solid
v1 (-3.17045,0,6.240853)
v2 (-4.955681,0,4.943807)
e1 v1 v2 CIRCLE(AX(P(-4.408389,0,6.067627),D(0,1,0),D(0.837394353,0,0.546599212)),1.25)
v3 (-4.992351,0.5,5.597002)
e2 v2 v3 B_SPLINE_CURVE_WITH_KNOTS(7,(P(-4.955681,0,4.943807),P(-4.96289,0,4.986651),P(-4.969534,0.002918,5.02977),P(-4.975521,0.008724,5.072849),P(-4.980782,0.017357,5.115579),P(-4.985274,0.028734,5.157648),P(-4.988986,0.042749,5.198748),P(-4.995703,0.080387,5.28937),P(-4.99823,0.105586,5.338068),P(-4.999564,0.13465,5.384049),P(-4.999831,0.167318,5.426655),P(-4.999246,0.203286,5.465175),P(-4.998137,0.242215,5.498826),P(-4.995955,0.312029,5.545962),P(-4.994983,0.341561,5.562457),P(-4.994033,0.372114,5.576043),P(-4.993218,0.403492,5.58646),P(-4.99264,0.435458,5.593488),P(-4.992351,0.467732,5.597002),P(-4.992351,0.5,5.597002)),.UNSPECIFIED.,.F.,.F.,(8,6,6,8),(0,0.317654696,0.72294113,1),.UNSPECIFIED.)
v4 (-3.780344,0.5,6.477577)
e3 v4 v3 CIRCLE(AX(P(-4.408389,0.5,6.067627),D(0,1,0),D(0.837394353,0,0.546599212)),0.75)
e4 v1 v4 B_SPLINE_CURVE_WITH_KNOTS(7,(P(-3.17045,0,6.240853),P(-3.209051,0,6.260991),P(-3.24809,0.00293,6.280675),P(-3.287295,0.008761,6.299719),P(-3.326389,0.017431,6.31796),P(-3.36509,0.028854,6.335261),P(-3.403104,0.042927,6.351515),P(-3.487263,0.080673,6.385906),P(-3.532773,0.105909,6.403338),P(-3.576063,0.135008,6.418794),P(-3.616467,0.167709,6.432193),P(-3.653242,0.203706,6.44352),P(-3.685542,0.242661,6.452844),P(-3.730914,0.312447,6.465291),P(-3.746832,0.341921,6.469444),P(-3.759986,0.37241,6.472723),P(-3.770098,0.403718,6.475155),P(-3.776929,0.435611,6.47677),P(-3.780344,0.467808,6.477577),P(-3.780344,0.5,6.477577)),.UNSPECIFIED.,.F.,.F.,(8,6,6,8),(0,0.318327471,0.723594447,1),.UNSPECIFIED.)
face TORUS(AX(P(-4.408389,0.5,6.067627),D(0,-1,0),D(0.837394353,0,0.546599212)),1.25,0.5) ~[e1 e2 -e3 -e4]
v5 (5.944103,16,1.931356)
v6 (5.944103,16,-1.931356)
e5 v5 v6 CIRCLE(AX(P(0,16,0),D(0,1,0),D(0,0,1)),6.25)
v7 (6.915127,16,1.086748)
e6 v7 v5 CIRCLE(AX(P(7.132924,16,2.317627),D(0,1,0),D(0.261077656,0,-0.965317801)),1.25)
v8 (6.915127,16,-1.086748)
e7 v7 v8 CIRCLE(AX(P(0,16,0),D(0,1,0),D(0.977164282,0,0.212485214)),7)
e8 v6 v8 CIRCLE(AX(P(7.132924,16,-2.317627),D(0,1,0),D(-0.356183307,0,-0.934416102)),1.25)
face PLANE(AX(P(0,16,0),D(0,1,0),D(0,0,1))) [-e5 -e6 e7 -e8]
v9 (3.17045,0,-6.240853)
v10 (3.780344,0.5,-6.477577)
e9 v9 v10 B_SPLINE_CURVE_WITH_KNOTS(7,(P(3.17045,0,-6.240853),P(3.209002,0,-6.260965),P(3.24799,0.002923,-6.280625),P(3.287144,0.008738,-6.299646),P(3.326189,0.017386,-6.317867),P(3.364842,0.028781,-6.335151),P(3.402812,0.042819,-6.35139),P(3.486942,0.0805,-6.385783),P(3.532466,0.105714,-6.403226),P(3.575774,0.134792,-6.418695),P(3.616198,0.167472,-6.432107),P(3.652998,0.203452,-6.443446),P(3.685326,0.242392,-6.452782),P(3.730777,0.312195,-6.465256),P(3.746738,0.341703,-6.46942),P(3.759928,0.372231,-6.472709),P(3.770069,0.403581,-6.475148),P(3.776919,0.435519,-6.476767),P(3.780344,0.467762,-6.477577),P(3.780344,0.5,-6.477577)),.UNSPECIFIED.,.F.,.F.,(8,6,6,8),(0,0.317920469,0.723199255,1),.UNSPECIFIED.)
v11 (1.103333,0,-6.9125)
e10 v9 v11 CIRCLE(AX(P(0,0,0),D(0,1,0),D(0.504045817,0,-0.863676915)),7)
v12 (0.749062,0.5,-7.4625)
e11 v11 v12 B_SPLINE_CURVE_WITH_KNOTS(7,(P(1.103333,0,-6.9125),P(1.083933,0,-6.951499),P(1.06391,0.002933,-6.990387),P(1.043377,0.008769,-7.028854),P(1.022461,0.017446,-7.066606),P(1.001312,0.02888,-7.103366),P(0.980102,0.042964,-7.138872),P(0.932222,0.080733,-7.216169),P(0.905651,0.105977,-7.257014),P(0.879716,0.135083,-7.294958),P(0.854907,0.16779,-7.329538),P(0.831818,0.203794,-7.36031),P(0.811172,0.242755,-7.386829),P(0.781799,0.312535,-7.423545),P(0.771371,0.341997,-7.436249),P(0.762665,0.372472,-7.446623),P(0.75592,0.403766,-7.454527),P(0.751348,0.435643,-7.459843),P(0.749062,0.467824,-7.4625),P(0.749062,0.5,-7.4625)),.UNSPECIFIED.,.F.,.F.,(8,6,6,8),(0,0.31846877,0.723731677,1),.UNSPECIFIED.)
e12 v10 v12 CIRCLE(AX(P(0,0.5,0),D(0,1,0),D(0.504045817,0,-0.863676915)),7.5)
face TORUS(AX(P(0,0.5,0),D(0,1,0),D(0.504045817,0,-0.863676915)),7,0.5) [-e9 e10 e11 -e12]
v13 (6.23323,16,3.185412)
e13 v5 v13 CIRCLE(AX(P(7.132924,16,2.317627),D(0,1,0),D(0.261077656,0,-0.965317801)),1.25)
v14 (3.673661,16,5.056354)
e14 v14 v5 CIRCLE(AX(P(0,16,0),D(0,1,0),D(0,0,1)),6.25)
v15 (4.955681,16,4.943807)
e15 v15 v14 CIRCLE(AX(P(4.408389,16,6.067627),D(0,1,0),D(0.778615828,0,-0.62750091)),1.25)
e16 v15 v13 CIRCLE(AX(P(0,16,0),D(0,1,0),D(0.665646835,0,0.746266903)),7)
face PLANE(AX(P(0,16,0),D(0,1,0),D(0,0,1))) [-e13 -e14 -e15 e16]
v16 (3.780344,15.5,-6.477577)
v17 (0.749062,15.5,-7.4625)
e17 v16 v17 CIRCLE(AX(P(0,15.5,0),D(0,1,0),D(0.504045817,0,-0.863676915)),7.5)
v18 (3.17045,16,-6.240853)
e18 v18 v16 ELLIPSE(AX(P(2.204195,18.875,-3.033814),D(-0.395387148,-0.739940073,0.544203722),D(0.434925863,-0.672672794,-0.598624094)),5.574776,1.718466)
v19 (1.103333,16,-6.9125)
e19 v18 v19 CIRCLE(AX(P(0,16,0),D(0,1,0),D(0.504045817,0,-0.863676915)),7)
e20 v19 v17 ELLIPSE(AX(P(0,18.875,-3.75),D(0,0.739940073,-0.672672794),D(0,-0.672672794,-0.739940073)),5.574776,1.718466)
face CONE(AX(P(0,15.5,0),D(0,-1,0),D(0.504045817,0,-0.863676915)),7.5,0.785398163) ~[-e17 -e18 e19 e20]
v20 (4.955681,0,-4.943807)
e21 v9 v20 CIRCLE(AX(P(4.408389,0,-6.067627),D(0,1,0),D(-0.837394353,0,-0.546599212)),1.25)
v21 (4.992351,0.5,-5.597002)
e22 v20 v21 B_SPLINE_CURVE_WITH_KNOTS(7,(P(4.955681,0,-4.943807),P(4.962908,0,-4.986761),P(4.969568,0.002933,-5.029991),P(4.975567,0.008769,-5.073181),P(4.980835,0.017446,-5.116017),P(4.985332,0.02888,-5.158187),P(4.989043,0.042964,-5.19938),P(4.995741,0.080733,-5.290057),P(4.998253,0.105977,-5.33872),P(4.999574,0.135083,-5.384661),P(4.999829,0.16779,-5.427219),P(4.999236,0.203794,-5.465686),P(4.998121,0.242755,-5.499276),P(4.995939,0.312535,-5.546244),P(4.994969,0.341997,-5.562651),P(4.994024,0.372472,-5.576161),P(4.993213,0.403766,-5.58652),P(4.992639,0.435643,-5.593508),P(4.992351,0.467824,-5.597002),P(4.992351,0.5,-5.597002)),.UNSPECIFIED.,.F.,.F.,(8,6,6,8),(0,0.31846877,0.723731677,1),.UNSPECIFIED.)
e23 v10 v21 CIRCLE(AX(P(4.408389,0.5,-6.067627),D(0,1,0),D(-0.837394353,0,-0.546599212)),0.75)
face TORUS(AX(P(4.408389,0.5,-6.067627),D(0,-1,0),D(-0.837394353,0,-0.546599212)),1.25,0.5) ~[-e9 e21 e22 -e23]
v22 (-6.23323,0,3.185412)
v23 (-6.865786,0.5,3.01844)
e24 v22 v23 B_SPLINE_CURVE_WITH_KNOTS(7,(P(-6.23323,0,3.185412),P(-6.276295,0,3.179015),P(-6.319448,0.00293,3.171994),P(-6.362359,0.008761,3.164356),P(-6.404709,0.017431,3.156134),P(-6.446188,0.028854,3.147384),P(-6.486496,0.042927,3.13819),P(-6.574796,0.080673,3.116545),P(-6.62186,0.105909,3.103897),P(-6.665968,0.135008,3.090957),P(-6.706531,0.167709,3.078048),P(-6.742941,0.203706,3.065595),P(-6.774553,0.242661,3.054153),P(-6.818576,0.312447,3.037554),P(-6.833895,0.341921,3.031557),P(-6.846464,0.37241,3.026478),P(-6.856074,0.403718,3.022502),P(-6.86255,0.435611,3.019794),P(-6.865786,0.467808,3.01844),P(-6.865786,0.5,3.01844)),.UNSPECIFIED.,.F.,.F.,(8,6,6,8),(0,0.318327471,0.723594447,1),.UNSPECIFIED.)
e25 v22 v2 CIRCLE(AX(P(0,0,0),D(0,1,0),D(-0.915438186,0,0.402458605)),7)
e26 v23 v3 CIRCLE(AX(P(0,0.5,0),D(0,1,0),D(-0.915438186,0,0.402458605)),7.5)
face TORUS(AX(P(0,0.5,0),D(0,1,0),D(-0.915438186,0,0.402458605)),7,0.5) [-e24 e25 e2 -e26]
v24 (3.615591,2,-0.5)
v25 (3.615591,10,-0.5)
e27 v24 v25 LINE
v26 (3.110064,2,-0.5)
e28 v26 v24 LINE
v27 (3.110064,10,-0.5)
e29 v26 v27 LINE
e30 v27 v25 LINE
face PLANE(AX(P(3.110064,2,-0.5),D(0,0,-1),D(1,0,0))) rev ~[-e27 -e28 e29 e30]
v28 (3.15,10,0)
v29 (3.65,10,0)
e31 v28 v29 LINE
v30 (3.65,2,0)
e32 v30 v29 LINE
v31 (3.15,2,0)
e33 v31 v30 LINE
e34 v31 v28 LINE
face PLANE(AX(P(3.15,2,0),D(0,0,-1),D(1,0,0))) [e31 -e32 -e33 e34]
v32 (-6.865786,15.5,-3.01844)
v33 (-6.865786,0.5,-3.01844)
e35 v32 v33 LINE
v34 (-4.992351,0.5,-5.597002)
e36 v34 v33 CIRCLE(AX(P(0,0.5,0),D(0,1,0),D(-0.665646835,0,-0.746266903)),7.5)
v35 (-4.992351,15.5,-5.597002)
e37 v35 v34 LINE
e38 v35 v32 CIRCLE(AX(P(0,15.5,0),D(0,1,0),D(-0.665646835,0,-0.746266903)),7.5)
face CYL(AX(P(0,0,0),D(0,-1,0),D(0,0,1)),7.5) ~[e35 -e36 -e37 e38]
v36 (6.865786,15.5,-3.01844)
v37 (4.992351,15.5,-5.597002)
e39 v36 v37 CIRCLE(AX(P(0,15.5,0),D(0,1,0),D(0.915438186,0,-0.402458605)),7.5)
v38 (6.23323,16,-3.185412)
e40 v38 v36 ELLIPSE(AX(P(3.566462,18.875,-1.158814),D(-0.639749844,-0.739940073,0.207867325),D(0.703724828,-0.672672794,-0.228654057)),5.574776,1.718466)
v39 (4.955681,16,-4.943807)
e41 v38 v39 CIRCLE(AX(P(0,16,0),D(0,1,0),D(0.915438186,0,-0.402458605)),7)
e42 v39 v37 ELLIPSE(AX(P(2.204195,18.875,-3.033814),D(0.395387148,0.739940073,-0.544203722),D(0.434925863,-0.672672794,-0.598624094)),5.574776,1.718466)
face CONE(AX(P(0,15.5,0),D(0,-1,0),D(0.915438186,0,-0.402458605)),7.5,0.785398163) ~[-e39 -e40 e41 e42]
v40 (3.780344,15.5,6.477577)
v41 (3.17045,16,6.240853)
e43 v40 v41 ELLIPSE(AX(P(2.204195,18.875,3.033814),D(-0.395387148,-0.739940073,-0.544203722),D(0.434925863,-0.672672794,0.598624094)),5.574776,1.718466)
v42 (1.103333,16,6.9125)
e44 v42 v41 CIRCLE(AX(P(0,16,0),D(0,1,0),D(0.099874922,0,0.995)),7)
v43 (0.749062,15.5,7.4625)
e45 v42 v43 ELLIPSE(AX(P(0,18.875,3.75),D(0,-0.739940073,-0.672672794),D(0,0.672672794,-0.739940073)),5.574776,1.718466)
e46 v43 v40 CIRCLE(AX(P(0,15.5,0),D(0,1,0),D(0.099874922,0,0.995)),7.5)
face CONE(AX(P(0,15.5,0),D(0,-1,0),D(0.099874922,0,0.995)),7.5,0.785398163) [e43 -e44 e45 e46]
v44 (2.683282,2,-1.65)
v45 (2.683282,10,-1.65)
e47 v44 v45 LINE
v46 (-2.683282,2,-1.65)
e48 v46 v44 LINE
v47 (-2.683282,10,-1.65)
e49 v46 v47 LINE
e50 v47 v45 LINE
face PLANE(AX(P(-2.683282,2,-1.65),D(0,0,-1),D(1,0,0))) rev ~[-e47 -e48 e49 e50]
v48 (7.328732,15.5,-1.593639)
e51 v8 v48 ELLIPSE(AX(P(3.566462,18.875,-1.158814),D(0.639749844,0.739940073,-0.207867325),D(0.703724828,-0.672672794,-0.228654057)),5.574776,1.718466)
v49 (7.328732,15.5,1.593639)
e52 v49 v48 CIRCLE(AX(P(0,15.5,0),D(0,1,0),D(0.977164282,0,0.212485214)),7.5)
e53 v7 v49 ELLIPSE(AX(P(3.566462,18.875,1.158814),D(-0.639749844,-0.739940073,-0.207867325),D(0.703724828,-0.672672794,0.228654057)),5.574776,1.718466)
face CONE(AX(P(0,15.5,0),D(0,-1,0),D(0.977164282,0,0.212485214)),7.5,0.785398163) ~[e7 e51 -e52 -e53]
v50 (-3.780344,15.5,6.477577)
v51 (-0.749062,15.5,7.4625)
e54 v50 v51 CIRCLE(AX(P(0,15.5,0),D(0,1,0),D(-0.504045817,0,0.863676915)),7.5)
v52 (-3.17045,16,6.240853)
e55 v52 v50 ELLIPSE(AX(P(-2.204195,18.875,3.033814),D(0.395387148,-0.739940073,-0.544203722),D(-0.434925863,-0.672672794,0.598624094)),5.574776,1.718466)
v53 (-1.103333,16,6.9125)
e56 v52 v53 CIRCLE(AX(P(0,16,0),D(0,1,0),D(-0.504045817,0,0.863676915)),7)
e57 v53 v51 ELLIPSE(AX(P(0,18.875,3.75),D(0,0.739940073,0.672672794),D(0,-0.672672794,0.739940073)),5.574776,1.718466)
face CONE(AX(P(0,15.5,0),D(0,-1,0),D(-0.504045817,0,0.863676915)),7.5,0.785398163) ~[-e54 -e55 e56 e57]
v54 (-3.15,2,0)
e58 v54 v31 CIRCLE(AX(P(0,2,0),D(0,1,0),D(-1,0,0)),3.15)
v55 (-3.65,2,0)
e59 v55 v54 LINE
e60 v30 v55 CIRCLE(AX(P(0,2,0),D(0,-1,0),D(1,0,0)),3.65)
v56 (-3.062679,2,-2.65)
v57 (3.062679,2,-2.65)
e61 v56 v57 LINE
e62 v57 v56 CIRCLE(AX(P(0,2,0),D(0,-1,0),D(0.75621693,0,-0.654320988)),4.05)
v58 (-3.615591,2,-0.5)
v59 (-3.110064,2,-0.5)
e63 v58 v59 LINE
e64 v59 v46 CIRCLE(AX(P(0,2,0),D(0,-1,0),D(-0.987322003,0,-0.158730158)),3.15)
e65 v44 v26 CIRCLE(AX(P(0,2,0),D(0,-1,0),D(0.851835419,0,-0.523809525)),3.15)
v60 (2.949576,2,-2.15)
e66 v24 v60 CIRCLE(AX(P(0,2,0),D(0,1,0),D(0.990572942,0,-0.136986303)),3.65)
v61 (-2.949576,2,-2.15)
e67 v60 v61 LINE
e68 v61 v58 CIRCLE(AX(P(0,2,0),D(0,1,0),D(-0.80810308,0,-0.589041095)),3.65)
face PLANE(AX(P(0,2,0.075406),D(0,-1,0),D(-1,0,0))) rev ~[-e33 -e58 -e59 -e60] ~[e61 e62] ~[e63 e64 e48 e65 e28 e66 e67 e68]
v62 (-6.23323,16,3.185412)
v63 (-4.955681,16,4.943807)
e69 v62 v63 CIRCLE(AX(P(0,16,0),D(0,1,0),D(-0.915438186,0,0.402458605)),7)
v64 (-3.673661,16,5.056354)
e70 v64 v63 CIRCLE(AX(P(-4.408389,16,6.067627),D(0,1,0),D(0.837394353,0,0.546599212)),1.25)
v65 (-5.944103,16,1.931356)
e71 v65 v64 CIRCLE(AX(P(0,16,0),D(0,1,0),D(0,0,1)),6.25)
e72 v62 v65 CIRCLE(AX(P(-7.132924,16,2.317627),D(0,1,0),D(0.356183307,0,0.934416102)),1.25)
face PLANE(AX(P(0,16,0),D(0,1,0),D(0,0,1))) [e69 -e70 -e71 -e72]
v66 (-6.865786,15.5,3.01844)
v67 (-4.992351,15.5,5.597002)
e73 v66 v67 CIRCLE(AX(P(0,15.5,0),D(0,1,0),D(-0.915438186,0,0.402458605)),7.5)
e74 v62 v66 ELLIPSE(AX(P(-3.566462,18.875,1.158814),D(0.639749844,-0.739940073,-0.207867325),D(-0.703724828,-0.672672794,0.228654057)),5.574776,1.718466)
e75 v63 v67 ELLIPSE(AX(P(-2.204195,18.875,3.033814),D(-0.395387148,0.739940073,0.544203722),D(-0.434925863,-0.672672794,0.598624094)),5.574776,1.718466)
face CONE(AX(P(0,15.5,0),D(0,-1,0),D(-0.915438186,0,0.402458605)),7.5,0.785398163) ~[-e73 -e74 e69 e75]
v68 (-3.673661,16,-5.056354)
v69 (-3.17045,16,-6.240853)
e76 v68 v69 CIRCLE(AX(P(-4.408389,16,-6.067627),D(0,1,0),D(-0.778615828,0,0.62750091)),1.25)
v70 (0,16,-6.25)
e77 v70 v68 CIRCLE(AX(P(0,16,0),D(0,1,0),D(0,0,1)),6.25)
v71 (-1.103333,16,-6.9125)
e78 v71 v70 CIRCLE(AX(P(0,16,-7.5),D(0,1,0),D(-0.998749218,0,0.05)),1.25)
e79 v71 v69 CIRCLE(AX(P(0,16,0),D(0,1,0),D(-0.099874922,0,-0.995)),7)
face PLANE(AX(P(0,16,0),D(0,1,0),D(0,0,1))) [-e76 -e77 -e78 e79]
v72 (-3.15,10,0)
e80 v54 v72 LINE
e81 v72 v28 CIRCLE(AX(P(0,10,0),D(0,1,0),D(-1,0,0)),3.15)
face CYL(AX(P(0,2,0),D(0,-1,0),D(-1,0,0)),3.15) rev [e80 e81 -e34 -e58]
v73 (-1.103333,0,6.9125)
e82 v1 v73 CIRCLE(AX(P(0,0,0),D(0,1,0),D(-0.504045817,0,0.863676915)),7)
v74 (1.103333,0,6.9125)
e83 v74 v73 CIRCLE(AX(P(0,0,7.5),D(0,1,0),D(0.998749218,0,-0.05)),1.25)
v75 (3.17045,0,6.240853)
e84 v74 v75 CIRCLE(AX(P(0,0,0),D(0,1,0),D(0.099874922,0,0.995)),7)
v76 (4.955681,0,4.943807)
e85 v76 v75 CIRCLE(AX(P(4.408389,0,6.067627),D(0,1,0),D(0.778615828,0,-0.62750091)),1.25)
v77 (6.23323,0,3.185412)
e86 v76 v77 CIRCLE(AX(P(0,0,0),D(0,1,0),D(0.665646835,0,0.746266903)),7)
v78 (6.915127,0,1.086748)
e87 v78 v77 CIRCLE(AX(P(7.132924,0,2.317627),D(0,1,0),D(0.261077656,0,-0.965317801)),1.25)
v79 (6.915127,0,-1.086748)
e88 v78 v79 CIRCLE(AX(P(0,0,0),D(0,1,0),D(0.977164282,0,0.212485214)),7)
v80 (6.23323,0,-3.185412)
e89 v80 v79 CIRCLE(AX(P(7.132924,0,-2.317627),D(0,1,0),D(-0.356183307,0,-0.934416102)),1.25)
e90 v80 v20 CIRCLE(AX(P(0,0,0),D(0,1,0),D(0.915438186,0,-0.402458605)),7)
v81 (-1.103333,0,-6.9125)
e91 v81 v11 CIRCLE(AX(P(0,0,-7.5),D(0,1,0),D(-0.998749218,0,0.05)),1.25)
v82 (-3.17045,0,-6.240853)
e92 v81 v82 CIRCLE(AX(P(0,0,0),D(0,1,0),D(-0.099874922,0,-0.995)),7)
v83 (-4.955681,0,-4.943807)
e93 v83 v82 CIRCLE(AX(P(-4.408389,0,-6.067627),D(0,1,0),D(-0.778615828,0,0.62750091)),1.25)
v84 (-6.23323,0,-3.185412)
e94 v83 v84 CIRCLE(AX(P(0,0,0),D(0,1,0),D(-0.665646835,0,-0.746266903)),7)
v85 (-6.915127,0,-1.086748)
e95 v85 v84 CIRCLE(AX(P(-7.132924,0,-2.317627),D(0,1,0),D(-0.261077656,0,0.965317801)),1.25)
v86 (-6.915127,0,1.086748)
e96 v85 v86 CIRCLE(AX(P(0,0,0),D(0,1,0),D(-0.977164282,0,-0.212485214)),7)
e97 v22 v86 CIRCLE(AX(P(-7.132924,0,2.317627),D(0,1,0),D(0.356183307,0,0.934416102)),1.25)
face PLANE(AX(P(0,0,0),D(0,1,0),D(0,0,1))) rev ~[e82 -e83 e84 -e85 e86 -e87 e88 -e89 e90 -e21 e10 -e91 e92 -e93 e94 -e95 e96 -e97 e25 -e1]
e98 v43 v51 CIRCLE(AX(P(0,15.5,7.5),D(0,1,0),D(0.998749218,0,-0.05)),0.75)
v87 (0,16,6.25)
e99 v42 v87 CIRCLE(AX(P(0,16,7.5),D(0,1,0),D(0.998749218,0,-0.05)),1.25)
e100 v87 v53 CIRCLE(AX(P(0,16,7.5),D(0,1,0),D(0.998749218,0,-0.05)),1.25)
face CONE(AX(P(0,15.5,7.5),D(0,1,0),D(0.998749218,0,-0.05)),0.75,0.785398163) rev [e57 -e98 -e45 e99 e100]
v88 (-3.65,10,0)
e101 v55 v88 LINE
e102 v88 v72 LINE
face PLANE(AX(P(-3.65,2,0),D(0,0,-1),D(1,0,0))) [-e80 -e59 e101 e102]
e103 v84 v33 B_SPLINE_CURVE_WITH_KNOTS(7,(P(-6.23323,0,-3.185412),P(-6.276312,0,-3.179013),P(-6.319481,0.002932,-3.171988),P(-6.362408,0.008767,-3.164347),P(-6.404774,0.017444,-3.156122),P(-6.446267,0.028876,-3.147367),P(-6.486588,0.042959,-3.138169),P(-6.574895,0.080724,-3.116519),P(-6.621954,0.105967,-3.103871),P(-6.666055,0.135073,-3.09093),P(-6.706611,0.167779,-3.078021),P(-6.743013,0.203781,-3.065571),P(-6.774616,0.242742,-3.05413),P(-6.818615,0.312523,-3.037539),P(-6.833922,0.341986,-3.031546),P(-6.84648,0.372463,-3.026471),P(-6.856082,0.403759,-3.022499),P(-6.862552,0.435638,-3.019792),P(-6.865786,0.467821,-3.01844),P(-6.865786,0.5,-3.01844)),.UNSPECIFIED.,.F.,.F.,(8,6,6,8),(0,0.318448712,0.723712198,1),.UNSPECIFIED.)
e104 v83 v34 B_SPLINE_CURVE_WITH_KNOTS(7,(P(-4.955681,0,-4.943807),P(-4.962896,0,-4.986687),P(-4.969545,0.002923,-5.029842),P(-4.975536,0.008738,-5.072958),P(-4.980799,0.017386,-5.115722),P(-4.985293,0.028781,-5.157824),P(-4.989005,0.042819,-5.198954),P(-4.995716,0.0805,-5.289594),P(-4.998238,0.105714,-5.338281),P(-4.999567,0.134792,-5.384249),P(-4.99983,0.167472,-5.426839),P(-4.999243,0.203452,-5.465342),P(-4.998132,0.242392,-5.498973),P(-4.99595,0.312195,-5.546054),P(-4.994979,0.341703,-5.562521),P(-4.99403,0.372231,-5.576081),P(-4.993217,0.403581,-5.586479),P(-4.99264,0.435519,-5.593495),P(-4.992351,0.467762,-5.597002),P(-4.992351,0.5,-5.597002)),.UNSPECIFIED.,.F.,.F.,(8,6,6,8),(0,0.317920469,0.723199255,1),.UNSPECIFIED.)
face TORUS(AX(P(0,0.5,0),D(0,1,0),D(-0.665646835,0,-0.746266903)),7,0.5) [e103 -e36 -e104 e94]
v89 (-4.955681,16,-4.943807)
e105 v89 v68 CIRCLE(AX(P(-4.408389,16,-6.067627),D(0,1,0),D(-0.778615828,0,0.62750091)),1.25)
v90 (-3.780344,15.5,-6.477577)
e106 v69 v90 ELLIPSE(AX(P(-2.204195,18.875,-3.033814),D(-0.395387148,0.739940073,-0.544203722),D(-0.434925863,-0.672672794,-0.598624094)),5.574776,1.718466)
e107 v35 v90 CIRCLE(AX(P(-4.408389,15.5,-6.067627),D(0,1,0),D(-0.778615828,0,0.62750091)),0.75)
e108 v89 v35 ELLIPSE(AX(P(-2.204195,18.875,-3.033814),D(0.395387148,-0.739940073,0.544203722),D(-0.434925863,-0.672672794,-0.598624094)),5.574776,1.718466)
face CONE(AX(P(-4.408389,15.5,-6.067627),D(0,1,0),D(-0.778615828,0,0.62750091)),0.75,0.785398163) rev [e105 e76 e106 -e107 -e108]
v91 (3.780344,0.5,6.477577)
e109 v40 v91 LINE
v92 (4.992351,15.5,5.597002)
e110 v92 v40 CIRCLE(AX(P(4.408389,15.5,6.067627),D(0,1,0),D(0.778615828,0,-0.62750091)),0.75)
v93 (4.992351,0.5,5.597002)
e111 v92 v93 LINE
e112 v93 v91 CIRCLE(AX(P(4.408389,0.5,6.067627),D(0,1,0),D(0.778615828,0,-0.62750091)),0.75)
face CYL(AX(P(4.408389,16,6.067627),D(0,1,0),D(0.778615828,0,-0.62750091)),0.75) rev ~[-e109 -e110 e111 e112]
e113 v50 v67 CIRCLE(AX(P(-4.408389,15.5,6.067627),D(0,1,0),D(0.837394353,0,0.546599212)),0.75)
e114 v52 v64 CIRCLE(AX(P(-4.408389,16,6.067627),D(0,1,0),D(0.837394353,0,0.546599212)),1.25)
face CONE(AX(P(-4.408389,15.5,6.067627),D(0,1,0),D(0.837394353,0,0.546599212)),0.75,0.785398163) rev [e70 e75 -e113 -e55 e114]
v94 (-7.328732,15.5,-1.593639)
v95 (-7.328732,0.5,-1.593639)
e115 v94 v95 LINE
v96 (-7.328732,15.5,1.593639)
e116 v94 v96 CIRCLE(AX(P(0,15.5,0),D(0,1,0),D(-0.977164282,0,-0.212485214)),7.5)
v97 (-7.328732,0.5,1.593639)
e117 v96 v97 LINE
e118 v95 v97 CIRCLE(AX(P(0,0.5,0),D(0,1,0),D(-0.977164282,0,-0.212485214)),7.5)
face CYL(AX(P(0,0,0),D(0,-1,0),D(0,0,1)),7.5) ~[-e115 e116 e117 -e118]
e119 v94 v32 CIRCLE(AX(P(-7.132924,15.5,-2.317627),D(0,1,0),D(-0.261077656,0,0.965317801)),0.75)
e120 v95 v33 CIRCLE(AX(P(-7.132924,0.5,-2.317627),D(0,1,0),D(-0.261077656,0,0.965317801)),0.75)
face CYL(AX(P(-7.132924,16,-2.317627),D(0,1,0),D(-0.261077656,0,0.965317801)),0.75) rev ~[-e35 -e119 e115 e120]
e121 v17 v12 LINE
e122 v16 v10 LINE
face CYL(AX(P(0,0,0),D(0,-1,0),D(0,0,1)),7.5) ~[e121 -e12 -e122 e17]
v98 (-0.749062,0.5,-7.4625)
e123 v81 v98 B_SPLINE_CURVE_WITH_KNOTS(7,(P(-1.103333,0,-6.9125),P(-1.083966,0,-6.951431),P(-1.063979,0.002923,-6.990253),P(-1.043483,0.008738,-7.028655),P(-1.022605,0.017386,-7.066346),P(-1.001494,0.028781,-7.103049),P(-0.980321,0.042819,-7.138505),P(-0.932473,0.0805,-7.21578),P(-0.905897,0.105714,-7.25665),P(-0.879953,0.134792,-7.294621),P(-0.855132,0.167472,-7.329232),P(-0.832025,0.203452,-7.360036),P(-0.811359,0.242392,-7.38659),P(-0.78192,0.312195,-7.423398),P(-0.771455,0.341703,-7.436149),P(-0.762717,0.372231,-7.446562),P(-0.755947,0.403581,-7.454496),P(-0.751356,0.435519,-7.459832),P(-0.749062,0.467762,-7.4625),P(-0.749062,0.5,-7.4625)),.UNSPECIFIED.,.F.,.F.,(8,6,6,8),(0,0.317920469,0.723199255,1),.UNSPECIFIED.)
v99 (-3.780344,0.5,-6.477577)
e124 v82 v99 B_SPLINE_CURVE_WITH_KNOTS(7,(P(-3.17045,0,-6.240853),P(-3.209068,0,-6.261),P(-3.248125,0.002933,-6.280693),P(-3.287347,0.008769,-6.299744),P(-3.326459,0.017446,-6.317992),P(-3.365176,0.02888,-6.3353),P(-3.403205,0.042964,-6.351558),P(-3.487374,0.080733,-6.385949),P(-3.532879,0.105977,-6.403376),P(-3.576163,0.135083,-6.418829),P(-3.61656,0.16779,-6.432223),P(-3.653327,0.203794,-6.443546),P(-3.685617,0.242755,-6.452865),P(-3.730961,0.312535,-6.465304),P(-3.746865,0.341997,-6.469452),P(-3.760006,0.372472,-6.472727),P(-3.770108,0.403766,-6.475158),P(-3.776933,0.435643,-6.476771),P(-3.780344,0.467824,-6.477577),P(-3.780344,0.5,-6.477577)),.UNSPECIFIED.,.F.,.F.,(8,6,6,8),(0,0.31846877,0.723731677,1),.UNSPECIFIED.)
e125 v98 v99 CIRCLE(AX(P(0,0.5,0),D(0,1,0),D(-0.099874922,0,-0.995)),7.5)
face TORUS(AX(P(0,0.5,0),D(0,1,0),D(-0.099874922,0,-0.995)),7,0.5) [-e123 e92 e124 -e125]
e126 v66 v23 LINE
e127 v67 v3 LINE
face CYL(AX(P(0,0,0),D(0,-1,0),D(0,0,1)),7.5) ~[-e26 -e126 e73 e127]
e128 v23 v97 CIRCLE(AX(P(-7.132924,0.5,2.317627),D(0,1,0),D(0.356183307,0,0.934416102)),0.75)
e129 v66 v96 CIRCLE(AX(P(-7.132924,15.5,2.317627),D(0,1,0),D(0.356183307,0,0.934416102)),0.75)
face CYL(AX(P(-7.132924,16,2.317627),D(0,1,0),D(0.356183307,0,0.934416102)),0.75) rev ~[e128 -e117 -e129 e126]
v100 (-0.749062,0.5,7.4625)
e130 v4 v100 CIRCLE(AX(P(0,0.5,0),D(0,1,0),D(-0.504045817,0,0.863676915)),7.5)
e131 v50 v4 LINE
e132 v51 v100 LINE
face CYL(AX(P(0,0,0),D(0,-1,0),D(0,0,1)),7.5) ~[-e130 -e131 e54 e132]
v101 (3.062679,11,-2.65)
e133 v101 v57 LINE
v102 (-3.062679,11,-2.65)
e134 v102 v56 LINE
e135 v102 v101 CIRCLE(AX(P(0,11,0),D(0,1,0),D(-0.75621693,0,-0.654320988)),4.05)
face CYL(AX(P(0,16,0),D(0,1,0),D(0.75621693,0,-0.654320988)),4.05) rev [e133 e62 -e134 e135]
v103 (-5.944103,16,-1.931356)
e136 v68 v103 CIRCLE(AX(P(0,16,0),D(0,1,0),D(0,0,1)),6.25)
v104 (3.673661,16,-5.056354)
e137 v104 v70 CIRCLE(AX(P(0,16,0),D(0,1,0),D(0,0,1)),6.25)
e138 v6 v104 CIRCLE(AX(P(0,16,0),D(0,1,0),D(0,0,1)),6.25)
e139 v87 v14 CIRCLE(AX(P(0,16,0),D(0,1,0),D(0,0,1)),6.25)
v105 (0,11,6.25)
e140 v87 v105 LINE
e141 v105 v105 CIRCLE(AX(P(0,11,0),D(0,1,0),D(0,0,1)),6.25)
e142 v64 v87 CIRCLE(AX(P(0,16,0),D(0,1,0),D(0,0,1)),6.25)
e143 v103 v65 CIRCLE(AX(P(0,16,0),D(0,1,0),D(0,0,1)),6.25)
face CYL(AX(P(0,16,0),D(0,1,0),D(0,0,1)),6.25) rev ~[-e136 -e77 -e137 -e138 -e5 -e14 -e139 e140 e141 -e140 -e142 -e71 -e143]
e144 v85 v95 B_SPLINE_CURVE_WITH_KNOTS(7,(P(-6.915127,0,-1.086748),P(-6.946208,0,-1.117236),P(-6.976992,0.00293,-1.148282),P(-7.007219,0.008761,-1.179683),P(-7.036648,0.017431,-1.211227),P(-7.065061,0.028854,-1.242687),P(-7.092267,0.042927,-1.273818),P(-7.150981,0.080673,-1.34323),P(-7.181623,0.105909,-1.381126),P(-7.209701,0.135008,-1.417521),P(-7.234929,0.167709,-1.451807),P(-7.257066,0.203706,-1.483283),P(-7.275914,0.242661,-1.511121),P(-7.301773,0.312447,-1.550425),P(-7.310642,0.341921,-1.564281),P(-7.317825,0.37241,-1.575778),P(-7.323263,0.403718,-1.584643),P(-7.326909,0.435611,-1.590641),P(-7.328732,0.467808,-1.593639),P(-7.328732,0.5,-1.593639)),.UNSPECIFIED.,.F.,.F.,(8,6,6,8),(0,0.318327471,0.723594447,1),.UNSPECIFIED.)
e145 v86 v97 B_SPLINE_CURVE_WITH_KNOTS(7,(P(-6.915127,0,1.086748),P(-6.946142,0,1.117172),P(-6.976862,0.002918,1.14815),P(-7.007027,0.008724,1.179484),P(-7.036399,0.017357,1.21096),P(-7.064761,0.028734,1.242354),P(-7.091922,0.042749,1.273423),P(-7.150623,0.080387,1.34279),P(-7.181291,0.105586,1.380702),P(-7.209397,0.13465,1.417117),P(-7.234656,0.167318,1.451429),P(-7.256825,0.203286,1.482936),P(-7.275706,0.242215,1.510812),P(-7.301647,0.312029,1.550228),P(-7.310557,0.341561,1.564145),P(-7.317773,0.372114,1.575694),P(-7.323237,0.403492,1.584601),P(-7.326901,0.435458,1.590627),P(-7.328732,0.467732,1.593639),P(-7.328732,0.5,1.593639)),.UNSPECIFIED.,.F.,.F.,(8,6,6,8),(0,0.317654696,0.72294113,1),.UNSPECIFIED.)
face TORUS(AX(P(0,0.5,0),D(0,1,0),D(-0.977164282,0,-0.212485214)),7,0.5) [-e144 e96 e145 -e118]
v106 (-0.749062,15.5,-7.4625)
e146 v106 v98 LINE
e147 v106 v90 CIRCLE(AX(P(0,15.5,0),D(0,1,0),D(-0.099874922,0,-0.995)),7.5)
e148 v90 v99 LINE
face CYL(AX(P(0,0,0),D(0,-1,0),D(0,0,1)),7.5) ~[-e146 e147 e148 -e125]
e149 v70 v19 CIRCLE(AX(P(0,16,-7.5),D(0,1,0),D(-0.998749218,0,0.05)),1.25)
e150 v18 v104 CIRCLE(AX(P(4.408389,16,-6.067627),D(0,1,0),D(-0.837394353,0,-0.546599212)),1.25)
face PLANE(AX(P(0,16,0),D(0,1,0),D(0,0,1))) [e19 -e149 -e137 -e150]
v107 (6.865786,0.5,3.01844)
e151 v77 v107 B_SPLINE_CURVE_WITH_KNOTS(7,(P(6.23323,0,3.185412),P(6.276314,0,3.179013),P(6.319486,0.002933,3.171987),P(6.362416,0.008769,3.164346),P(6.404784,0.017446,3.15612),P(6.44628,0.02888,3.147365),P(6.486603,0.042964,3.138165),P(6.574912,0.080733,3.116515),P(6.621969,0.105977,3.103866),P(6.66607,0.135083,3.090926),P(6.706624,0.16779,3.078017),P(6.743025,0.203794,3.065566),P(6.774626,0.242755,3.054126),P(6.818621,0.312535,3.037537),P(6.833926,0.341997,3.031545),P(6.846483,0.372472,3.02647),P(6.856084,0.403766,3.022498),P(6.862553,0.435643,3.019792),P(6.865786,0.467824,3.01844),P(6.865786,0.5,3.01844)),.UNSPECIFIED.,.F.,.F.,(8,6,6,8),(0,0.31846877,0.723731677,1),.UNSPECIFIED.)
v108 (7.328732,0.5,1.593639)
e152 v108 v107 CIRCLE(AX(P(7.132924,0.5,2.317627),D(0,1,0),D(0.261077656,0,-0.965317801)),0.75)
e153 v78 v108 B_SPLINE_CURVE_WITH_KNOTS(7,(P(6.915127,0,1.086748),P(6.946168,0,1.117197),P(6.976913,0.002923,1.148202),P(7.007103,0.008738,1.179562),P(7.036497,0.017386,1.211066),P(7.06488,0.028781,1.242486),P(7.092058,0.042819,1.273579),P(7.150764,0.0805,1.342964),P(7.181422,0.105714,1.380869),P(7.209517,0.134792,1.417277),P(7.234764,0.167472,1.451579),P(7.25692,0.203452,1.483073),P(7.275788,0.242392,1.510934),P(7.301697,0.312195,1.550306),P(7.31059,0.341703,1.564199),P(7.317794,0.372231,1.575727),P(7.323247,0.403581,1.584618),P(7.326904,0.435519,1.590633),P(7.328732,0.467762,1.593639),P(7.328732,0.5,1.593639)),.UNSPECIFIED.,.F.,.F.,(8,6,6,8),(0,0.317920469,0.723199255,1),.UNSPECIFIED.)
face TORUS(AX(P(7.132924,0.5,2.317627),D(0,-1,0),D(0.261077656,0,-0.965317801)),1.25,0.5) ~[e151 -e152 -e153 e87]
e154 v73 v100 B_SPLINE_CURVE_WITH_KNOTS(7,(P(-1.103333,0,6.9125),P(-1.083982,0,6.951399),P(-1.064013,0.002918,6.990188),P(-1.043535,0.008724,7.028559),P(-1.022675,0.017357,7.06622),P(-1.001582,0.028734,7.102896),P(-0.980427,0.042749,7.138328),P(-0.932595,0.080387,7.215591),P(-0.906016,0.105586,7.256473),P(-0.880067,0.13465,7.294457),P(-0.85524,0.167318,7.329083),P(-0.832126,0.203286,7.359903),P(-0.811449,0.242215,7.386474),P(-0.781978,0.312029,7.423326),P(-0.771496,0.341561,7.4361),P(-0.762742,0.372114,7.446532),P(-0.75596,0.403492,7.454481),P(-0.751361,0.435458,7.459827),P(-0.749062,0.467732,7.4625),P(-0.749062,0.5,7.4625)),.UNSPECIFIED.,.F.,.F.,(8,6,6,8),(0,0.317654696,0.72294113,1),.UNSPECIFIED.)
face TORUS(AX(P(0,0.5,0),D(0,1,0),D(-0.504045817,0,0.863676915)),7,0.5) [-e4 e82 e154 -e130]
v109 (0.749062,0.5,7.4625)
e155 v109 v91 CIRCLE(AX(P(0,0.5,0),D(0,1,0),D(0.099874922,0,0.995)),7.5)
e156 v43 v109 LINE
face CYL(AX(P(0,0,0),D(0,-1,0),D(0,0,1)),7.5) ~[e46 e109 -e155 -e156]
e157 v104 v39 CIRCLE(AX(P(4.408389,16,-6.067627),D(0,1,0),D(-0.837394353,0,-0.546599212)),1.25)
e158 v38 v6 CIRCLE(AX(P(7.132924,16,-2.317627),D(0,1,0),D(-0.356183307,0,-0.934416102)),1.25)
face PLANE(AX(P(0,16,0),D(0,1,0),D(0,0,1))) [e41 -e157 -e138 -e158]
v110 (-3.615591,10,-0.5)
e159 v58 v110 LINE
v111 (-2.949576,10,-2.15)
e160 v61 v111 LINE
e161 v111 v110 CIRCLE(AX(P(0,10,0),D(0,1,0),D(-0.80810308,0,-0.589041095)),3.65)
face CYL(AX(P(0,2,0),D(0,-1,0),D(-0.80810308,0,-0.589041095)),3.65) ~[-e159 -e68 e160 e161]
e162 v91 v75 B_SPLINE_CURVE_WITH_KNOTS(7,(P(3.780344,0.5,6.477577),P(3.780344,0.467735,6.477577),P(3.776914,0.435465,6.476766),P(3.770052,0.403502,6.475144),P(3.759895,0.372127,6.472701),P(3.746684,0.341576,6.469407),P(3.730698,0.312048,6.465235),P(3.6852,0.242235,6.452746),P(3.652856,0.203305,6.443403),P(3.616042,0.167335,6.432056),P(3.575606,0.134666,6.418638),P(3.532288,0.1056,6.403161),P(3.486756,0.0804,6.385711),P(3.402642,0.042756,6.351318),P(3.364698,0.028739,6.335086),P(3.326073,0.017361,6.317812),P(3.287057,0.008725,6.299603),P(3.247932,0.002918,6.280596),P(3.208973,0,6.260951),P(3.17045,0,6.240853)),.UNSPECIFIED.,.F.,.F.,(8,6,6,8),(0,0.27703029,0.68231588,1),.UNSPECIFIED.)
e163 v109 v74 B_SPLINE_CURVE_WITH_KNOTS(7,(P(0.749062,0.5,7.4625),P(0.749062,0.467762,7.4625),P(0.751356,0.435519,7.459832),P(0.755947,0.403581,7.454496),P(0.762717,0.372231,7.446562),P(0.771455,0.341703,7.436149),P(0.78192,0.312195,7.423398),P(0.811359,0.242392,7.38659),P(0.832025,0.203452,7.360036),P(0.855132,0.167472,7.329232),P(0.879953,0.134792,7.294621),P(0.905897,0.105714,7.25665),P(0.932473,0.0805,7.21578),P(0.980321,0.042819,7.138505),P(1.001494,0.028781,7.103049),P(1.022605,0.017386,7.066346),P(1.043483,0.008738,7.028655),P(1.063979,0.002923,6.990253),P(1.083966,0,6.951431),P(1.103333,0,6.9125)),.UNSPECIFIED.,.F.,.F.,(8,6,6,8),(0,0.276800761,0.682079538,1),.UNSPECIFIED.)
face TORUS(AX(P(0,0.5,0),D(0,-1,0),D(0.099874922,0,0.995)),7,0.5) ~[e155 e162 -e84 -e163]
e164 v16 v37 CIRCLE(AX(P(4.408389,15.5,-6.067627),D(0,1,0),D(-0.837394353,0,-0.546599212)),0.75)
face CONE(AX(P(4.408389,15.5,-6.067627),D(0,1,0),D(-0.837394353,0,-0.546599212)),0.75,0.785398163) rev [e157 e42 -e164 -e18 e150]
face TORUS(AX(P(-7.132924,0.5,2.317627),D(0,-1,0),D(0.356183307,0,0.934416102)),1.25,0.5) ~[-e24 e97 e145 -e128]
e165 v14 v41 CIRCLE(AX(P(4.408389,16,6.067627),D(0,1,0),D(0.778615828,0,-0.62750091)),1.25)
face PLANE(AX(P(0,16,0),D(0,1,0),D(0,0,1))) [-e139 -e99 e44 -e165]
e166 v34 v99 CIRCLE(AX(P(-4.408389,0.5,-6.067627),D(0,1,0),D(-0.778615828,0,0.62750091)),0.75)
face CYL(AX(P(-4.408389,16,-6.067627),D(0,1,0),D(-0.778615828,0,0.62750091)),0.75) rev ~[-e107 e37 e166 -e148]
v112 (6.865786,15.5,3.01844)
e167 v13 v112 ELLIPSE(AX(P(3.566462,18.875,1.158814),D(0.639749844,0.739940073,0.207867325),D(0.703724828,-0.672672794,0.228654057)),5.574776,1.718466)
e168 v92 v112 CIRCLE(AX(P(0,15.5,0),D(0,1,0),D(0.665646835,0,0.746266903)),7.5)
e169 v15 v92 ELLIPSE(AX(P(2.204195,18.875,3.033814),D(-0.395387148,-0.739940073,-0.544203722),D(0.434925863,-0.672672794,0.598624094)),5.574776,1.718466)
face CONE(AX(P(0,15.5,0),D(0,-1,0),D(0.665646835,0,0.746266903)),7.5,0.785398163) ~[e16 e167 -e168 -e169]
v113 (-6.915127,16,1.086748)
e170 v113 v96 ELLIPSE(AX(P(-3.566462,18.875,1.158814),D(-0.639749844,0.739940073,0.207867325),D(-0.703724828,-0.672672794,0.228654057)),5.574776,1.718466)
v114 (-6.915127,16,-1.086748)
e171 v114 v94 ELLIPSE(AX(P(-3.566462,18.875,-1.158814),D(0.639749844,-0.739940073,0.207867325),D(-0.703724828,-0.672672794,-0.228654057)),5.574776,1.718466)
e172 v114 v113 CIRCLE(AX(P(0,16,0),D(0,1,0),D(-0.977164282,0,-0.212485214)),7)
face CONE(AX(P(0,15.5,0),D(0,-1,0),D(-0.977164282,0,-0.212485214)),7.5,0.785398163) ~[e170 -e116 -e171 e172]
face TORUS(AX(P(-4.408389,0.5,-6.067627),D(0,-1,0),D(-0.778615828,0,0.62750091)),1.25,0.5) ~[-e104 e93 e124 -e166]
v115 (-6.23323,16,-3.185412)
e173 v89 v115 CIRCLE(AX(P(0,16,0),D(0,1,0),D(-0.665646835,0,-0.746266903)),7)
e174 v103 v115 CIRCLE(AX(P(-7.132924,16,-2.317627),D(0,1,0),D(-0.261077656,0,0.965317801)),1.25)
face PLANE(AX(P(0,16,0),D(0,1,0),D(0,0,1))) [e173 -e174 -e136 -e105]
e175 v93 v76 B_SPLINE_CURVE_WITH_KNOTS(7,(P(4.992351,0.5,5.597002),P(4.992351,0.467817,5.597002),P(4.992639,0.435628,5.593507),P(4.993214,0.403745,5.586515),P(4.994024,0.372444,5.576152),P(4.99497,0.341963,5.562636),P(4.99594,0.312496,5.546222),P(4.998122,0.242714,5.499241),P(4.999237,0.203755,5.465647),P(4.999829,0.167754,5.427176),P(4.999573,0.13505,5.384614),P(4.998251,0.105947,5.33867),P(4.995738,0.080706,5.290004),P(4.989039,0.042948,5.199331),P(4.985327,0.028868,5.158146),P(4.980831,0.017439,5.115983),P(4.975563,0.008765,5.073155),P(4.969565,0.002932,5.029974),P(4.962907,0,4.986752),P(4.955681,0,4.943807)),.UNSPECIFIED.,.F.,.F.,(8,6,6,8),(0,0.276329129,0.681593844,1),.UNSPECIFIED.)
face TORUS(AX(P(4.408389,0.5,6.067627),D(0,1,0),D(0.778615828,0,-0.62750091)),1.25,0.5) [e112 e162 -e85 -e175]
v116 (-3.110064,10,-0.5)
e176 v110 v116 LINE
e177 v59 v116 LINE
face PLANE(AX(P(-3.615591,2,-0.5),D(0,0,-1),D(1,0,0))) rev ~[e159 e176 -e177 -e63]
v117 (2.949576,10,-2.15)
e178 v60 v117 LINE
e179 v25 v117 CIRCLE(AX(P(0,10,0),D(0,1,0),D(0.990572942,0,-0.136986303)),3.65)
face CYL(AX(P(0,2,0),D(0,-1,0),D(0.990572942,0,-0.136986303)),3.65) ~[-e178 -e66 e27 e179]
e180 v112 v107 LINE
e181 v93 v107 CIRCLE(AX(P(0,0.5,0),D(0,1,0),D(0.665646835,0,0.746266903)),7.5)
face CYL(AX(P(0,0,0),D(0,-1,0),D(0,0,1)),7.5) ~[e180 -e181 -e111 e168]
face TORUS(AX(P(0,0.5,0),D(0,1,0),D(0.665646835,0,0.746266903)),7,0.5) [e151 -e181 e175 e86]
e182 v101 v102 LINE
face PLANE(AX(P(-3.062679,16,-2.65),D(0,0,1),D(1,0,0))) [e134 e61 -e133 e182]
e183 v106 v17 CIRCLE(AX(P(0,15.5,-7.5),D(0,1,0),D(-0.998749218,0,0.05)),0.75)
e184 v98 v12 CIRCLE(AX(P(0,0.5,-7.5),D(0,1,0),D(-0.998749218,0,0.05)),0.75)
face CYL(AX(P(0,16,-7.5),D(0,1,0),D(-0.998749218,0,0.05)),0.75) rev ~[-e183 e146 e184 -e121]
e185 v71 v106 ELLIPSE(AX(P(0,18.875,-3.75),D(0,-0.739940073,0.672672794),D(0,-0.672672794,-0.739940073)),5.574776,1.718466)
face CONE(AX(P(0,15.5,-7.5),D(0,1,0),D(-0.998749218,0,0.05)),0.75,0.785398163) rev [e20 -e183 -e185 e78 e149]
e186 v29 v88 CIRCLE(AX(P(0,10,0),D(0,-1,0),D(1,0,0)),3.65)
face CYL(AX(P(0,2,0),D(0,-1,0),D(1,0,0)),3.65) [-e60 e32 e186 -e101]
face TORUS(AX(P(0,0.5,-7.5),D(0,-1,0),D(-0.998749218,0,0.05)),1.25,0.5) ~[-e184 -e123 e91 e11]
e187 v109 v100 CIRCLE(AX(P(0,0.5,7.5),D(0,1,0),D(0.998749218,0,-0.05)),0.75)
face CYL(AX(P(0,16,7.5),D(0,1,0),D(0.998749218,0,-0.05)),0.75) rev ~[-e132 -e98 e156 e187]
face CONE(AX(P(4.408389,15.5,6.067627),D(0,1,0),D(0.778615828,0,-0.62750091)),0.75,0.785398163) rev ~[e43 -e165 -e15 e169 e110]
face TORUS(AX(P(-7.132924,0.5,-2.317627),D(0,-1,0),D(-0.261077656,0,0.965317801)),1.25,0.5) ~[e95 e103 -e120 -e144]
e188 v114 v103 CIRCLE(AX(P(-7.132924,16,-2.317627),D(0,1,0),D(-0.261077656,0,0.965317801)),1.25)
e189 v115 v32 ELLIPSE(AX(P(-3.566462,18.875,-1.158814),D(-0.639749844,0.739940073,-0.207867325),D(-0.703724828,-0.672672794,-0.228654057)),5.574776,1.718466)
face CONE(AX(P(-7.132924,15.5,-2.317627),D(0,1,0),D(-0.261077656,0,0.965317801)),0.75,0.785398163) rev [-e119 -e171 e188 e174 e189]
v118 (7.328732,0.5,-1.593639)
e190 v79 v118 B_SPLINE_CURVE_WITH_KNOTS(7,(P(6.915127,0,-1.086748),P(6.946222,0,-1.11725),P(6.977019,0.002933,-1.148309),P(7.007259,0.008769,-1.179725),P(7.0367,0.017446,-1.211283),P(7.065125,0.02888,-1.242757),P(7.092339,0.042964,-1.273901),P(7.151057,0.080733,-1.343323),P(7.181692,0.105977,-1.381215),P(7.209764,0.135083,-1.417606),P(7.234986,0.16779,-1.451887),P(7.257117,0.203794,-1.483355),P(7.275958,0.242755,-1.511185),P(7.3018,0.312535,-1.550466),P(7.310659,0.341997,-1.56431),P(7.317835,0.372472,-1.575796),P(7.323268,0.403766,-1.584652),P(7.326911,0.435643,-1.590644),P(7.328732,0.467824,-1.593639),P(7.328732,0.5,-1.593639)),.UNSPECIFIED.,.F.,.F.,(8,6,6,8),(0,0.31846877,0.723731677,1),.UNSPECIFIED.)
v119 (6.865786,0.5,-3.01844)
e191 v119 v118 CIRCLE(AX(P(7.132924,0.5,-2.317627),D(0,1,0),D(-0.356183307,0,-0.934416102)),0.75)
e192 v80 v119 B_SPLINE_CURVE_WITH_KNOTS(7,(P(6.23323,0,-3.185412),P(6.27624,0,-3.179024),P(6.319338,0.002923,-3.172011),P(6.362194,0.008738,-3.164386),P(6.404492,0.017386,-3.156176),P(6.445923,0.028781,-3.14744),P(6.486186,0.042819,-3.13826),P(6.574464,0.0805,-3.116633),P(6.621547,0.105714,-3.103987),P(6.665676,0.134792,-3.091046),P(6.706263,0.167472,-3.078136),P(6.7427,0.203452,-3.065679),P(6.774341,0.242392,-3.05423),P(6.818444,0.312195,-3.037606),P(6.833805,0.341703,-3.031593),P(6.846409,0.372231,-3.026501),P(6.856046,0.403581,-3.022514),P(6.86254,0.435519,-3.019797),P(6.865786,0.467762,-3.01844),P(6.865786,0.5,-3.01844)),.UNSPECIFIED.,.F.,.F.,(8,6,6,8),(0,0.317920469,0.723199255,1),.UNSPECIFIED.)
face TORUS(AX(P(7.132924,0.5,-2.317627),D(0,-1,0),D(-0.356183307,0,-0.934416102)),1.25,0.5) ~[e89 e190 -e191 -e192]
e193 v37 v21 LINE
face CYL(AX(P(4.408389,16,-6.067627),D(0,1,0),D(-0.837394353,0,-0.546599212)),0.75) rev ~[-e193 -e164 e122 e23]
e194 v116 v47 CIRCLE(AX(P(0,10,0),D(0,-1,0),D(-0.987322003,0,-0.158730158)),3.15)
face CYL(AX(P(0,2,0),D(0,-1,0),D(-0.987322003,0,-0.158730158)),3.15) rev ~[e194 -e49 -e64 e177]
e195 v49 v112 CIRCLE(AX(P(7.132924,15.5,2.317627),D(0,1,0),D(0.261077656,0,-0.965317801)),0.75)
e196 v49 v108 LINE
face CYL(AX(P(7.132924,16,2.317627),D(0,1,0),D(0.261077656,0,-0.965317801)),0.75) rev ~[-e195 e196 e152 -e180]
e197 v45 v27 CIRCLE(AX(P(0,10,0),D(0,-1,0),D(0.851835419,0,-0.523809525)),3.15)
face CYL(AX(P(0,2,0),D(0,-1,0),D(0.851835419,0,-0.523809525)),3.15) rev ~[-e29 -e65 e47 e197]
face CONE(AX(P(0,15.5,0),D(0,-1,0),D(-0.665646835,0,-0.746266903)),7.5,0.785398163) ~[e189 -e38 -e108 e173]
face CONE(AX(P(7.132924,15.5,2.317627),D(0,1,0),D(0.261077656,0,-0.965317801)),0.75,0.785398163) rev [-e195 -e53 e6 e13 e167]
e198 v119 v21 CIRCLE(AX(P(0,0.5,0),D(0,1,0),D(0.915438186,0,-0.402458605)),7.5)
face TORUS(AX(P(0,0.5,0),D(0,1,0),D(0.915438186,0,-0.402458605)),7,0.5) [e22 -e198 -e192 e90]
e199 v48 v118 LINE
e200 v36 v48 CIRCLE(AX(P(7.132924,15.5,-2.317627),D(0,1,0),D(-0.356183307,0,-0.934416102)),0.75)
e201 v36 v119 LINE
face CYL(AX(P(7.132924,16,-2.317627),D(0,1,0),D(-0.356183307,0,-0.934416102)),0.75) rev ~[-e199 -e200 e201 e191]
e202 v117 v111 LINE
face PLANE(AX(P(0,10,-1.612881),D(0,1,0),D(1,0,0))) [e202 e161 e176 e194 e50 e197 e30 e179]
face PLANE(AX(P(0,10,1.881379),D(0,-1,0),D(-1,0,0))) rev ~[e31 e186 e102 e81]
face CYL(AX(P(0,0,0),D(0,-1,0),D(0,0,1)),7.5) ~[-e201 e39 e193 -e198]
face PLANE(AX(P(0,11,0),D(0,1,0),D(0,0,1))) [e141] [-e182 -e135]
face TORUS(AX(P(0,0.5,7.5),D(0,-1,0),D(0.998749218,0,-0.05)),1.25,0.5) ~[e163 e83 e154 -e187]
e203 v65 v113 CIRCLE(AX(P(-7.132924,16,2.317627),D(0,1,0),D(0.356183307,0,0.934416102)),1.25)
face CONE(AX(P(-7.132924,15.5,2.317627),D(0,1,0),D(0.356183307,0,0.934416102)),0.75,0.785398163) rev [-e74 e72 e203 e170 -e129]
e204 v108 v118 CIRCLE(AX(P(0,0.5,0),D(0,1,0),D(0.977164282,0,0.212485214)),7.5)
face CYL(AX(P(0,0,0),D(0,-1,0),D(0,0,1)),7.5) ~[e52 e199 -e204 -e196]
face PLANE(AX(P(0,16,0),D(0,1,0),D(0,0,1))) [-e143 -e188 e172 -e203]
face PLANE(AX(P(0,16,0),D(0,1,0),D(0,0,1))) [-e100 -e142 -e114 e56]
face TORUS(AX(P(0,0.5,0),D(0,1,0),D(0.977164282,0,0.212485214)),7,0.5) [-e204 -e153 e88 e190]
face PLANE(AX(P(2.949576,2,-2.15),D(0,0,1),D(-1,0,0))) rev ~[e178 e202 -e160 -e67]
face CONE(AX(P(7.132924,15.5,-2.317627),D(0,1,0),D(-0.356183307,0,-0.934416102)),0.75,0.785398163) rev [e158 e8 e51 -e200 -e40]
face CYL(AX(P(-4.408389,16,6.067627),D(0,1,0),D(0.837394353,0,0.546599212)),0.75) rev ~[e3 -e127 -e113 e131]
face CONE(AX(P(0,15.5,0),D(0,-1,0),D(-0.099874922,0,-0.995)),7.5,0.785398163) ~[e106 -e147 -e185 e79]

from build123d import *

# Parameters (mm, degrees)
SKETCH1_R           = 7.5
BOSS_EXTRUDE1_DEPTH = 16
CUT_EXTRUDE3_DEPTH  = 20.19635382
CHAMFER1_SIZE       = 0.5
FILLET1_R           = 0.5
CUT_EXTRUDE4_DEPTH  = 14
BOSS_EXTRUDE2_DEPTH = 8
SKETCH7_R           = 6.25
CUT_EXTRUDE5_DEPTH  = 5


with BuildPart() as part:
    # Sketch1 → Boss-Extrude1 (new body)
    with BuildSketch(Plane(origin=(0, 0, 0), x_dir=(1, 0, 0), z_dir=(0, 1, 0))):
        with Locations(Location((0, 0, 0), (0, 0, 270))):
            Circle(SKETCH1_R)
    extrude(amount=BOSS_EXTRUDE1_DEPTH)

    # Sketch4 → Cut-Extrude3 (cut, through all)
    with BuildSketch(Plane(origin=(0, 16, 0), x_dir=(1, 0, 0), z_dir=(0, 1, 0))):
        with BuildLine():
            ThreePointArc((-3.780343628, 6.477576866), (-4.408389392, 6.067627458), (-4.992351263, 5.597001775))
            ThreePointArc((-4.992351263, 5.597001775), (-3.967550453, 5.460864712), (-3.780343628, 6.477576866))
        make_face()
        with BuildLine():
            ThreePointArc((0.749061913, 7.4625), (0, 7.5), (-0.749061913, 7.4625))
            ThreePointArc((-0.749061913, 7.4625), (0, 6.75), (0.749061913, 7.4625))
        make_face()
        with BuildLine():
            ThreePointArc((3.780343628, 6.477576866), (3.967550453, 5.460864712), (4.992351263, 5.597001775))
            ThreePointArc((4.992351263, 5.597001775), (4.408389392, 6.067627458), (3.780343628, 6.477576866))
        make_face()
        with BuildLine():
            ThreePointArc((6.865786392, 3.018439534), (6.419631485, 2.085864712), (7.328732114, 1.593639107))
            ThreePointArc((7.328732114, 1.593639107), (7.132923872, 2.317627458), (6.865786392, 3.018439534))
        make_face()
        with BuildLine():
            ThreePointArc((7.328732114, -1.593639107), (6.419631485, -2.085864712), (6.865786392, -3.018439534))
            ThreePointArc((6.865786392, -3.018439534), (7.132923872, -2.317627458), (7.328732114, -1.593639107))
        make_face()
        with BuildLine():
            ThreePointArc((4.992351263, -5.597001775), (3.967550453, -5.460864712), (3.780343628, -6.477576866))
            ThreePointArc((3.780343628, -6.477576866), (4.408389392, -6.067627458), (4.992351263, -5.597001775))
        make_face()
        with BuildLine():
            ThreePointArc((-0.749061913, -7.4625), (0, -7.5), (0.749061913, -7.4625))
            ThreePointArc((0.749061913, -7.4625), (0, -6.75), (-0.749061913, -7.4625))
        make_face()
        with BuildLine():
            ThreePointArc((-4.992351263, -5.597001775), (-4.408389392, -6.067627458), (-3.780343628, -6.477576866))
            ThreePointArc((-3.780343628, -6.477576866), (-3.967550453, -5.460864712), (-4.992351263, -5.597001775))
        make_face()
        with BuildLine():
            ThreePointArc((-7.328732114, -1.593639107), (-7.132923872, -2.317627458), (-6.865786392, -3.018439534))
            ThreePointArc((-6.865786392, -3.018439534), (-6.419631485, -2.085864712), (-7.328732114, -1.593639107))
        make_face()
        with BuildLine():
            ThreePointArc((-6.865786392, 3.018439534), (-7.132923872, 2.317627458), (-7.328732114, 1.593639107))
            ThreePointArc((-7.328732114, 1.593639107), (-6.419631485, 2.085864712), (-6.865786392, 3.018439534))
        make_face()
    extrude(amount=-CUT_EXTRUDE3_DEPTH, mode=Mode.SUBTRACT)

    # Chamfer1
    chamfer1_edges = [part.edges().sort_by_distance(p)[0] for p in [
        (6.067627458, 16, 4.408389392),
        (7.5, 16, 0),
        (6.067627458, 16, -4.408389392),
        (2.317627458, 16, -7.132923872),
        (-2.317627458, 16, -7.132923872),
        (-6.067627458, 16, -4.408389392),
        (-7.5, 16, 0),
        (-6.067627458, 16, 4.408389392),
        (-2.317627458, 16, 7.132923872),
        (-6.419631485, 16, 2.085864712),
        (-3.967550453, 16, 5.460864712),
        (0, 16, 6.75),
        (2.317627458, 16, 7.132923872),
        (3.967550453, 16, 5.460864712),
        (6.419631485, 16, 2.085864712),
        (6.419631485, 16, -2.085864712),
        (3.967550453, 16, -5.460864712),
        (0, 16, -6.75),
        (-6.419631485, 16, -2.085864712),
        (-3.967550453, 16, -5.460864712),
    ]]
    chamfer(chamfer1_edges, length=CHAMFER1_SIZE)

    # Fillet1
    fillet1_edges = [part.edges().sort_by_distance(p)[0] for p in [
        (-7.5, 0, 0),
        (-6.067627458, 0, 4.408389392),
        (-2.317627458, 0, 7.132923872),
        (2.317627458, 0, 7.132923872),
        (-6.419631485, 0, 2.085864712),
        (-3.967550453, 0, 5.460864712),
        (0, 0, 6.75),
        (3.967550453, 0, 5.460864712),
        (6.419631485, 0, 2.085864712),
        (6.419631485, 0, -2.085864712),
        (3.967550453, 0, -5.460864712),
        (6.067627458, 0, 4.408389392),
        (0, 0, -6.75),
        (-6.419631485, 0, -2.085864712),
        (7.5, 0, 0),
        (-3.967550453, 0, -5.460864712),
        (6.067627458, 0, -4.408389392),
        (2.317627458, 0, -7.132923872),
        (-2.317627458, 0, -7.132923872),
        (-6.067627458, 0, -4.408389392),
    ]]
    fillet(fillet1_edges, radius=FILLET1_R)

    # Sketch5 → Cut-Extrude4 (cut)
    with BuildSketch(Plane(origin=(0, 16, 0), x_dir=(1, 0, 0), z_dir=(0, 1, 0))):
        with BuildLine():
            Line((-3.062678566, 2.65), (3.062678566, 2.65))
            ThreePointArc((3.062678566, 2.65), (0, -4.05), (-3.062678566, 2.65))
        make_face()
    extrude(amount=-CUT_EXTRUDE4_DEPTH, mode=Mode.SUBTRACT)

    # Sketch6 → Boss-Extrude2 (add)
    with BuildSketch(Plane(origin=(0, 2, 0), x_dir=(1, 0, 0), z_dir=(0, 1, 0))):
        with BuildLine():
            Line((2.949576241, 2.15), (-2.949576241, 2.15))
            ThreePointArc((-2.949576241, 2.15), (-3.384668522, 1.366206058), (-3.615591238, 0.5))
            Line((-3.615591238, 0.5), (-3.110064308, 0.5))
            ThreePointArc((-3.110064308, 0.5), (-2.953191346, 1.095974852), (-2.683281573, 1.65))
            Line((-2.683281573, 1.65), (2.683281573, 1.65))
            ThreePointArc((2.683281573, 1.65), (2.953191346, 1.095974852), (3.110064308, 0.5))
            Line((3.110064308, 0.5), (3.615591238, 0.5))
            ThreePointArc((3.615591238, 0.5), (3.384668522, 1.366206058), (2.949576241, 2.15))
        make_face()
        with BuildLine():
            Line((-3.65, 0), (-3.15, 0))
            ThreePointArc((-3.15, 0), (0, -3.15), (3.15, 0))
            Line((3.15, 0), (3.65, 0))
            ThreePointArc((3.65, 0), (0, -3.65), (-3.65, 0))
        make_face()
    extrude(amount=BOSS_EXTRUDE2_DEPTH)

    # Sketch7 → Cut-Extrude5 (cut)
    with BuildSketch(Plane(origin=(0, 16, 0), x_dir=(1, 0, 0), z_dir=(0, 1, 0))):
        with Locations(Location((0, 0, 0), (0, 0, 270))):
            Circle(SKETCH7_R)
        with BuildLine():
            Line((3.062678566, 2.65), (-3.062678566, 2.65))
            ThreePointArc((-3.062678566, 2.65), (0, -4.05), (3.062678566, 2.65))
        make_face(mode=Mode.SUBTRACT)
    extrude(amount=-CUT_EXTRUDE5_DEPTH, mode=Mode.SUBTRACT)


solid = part.part
